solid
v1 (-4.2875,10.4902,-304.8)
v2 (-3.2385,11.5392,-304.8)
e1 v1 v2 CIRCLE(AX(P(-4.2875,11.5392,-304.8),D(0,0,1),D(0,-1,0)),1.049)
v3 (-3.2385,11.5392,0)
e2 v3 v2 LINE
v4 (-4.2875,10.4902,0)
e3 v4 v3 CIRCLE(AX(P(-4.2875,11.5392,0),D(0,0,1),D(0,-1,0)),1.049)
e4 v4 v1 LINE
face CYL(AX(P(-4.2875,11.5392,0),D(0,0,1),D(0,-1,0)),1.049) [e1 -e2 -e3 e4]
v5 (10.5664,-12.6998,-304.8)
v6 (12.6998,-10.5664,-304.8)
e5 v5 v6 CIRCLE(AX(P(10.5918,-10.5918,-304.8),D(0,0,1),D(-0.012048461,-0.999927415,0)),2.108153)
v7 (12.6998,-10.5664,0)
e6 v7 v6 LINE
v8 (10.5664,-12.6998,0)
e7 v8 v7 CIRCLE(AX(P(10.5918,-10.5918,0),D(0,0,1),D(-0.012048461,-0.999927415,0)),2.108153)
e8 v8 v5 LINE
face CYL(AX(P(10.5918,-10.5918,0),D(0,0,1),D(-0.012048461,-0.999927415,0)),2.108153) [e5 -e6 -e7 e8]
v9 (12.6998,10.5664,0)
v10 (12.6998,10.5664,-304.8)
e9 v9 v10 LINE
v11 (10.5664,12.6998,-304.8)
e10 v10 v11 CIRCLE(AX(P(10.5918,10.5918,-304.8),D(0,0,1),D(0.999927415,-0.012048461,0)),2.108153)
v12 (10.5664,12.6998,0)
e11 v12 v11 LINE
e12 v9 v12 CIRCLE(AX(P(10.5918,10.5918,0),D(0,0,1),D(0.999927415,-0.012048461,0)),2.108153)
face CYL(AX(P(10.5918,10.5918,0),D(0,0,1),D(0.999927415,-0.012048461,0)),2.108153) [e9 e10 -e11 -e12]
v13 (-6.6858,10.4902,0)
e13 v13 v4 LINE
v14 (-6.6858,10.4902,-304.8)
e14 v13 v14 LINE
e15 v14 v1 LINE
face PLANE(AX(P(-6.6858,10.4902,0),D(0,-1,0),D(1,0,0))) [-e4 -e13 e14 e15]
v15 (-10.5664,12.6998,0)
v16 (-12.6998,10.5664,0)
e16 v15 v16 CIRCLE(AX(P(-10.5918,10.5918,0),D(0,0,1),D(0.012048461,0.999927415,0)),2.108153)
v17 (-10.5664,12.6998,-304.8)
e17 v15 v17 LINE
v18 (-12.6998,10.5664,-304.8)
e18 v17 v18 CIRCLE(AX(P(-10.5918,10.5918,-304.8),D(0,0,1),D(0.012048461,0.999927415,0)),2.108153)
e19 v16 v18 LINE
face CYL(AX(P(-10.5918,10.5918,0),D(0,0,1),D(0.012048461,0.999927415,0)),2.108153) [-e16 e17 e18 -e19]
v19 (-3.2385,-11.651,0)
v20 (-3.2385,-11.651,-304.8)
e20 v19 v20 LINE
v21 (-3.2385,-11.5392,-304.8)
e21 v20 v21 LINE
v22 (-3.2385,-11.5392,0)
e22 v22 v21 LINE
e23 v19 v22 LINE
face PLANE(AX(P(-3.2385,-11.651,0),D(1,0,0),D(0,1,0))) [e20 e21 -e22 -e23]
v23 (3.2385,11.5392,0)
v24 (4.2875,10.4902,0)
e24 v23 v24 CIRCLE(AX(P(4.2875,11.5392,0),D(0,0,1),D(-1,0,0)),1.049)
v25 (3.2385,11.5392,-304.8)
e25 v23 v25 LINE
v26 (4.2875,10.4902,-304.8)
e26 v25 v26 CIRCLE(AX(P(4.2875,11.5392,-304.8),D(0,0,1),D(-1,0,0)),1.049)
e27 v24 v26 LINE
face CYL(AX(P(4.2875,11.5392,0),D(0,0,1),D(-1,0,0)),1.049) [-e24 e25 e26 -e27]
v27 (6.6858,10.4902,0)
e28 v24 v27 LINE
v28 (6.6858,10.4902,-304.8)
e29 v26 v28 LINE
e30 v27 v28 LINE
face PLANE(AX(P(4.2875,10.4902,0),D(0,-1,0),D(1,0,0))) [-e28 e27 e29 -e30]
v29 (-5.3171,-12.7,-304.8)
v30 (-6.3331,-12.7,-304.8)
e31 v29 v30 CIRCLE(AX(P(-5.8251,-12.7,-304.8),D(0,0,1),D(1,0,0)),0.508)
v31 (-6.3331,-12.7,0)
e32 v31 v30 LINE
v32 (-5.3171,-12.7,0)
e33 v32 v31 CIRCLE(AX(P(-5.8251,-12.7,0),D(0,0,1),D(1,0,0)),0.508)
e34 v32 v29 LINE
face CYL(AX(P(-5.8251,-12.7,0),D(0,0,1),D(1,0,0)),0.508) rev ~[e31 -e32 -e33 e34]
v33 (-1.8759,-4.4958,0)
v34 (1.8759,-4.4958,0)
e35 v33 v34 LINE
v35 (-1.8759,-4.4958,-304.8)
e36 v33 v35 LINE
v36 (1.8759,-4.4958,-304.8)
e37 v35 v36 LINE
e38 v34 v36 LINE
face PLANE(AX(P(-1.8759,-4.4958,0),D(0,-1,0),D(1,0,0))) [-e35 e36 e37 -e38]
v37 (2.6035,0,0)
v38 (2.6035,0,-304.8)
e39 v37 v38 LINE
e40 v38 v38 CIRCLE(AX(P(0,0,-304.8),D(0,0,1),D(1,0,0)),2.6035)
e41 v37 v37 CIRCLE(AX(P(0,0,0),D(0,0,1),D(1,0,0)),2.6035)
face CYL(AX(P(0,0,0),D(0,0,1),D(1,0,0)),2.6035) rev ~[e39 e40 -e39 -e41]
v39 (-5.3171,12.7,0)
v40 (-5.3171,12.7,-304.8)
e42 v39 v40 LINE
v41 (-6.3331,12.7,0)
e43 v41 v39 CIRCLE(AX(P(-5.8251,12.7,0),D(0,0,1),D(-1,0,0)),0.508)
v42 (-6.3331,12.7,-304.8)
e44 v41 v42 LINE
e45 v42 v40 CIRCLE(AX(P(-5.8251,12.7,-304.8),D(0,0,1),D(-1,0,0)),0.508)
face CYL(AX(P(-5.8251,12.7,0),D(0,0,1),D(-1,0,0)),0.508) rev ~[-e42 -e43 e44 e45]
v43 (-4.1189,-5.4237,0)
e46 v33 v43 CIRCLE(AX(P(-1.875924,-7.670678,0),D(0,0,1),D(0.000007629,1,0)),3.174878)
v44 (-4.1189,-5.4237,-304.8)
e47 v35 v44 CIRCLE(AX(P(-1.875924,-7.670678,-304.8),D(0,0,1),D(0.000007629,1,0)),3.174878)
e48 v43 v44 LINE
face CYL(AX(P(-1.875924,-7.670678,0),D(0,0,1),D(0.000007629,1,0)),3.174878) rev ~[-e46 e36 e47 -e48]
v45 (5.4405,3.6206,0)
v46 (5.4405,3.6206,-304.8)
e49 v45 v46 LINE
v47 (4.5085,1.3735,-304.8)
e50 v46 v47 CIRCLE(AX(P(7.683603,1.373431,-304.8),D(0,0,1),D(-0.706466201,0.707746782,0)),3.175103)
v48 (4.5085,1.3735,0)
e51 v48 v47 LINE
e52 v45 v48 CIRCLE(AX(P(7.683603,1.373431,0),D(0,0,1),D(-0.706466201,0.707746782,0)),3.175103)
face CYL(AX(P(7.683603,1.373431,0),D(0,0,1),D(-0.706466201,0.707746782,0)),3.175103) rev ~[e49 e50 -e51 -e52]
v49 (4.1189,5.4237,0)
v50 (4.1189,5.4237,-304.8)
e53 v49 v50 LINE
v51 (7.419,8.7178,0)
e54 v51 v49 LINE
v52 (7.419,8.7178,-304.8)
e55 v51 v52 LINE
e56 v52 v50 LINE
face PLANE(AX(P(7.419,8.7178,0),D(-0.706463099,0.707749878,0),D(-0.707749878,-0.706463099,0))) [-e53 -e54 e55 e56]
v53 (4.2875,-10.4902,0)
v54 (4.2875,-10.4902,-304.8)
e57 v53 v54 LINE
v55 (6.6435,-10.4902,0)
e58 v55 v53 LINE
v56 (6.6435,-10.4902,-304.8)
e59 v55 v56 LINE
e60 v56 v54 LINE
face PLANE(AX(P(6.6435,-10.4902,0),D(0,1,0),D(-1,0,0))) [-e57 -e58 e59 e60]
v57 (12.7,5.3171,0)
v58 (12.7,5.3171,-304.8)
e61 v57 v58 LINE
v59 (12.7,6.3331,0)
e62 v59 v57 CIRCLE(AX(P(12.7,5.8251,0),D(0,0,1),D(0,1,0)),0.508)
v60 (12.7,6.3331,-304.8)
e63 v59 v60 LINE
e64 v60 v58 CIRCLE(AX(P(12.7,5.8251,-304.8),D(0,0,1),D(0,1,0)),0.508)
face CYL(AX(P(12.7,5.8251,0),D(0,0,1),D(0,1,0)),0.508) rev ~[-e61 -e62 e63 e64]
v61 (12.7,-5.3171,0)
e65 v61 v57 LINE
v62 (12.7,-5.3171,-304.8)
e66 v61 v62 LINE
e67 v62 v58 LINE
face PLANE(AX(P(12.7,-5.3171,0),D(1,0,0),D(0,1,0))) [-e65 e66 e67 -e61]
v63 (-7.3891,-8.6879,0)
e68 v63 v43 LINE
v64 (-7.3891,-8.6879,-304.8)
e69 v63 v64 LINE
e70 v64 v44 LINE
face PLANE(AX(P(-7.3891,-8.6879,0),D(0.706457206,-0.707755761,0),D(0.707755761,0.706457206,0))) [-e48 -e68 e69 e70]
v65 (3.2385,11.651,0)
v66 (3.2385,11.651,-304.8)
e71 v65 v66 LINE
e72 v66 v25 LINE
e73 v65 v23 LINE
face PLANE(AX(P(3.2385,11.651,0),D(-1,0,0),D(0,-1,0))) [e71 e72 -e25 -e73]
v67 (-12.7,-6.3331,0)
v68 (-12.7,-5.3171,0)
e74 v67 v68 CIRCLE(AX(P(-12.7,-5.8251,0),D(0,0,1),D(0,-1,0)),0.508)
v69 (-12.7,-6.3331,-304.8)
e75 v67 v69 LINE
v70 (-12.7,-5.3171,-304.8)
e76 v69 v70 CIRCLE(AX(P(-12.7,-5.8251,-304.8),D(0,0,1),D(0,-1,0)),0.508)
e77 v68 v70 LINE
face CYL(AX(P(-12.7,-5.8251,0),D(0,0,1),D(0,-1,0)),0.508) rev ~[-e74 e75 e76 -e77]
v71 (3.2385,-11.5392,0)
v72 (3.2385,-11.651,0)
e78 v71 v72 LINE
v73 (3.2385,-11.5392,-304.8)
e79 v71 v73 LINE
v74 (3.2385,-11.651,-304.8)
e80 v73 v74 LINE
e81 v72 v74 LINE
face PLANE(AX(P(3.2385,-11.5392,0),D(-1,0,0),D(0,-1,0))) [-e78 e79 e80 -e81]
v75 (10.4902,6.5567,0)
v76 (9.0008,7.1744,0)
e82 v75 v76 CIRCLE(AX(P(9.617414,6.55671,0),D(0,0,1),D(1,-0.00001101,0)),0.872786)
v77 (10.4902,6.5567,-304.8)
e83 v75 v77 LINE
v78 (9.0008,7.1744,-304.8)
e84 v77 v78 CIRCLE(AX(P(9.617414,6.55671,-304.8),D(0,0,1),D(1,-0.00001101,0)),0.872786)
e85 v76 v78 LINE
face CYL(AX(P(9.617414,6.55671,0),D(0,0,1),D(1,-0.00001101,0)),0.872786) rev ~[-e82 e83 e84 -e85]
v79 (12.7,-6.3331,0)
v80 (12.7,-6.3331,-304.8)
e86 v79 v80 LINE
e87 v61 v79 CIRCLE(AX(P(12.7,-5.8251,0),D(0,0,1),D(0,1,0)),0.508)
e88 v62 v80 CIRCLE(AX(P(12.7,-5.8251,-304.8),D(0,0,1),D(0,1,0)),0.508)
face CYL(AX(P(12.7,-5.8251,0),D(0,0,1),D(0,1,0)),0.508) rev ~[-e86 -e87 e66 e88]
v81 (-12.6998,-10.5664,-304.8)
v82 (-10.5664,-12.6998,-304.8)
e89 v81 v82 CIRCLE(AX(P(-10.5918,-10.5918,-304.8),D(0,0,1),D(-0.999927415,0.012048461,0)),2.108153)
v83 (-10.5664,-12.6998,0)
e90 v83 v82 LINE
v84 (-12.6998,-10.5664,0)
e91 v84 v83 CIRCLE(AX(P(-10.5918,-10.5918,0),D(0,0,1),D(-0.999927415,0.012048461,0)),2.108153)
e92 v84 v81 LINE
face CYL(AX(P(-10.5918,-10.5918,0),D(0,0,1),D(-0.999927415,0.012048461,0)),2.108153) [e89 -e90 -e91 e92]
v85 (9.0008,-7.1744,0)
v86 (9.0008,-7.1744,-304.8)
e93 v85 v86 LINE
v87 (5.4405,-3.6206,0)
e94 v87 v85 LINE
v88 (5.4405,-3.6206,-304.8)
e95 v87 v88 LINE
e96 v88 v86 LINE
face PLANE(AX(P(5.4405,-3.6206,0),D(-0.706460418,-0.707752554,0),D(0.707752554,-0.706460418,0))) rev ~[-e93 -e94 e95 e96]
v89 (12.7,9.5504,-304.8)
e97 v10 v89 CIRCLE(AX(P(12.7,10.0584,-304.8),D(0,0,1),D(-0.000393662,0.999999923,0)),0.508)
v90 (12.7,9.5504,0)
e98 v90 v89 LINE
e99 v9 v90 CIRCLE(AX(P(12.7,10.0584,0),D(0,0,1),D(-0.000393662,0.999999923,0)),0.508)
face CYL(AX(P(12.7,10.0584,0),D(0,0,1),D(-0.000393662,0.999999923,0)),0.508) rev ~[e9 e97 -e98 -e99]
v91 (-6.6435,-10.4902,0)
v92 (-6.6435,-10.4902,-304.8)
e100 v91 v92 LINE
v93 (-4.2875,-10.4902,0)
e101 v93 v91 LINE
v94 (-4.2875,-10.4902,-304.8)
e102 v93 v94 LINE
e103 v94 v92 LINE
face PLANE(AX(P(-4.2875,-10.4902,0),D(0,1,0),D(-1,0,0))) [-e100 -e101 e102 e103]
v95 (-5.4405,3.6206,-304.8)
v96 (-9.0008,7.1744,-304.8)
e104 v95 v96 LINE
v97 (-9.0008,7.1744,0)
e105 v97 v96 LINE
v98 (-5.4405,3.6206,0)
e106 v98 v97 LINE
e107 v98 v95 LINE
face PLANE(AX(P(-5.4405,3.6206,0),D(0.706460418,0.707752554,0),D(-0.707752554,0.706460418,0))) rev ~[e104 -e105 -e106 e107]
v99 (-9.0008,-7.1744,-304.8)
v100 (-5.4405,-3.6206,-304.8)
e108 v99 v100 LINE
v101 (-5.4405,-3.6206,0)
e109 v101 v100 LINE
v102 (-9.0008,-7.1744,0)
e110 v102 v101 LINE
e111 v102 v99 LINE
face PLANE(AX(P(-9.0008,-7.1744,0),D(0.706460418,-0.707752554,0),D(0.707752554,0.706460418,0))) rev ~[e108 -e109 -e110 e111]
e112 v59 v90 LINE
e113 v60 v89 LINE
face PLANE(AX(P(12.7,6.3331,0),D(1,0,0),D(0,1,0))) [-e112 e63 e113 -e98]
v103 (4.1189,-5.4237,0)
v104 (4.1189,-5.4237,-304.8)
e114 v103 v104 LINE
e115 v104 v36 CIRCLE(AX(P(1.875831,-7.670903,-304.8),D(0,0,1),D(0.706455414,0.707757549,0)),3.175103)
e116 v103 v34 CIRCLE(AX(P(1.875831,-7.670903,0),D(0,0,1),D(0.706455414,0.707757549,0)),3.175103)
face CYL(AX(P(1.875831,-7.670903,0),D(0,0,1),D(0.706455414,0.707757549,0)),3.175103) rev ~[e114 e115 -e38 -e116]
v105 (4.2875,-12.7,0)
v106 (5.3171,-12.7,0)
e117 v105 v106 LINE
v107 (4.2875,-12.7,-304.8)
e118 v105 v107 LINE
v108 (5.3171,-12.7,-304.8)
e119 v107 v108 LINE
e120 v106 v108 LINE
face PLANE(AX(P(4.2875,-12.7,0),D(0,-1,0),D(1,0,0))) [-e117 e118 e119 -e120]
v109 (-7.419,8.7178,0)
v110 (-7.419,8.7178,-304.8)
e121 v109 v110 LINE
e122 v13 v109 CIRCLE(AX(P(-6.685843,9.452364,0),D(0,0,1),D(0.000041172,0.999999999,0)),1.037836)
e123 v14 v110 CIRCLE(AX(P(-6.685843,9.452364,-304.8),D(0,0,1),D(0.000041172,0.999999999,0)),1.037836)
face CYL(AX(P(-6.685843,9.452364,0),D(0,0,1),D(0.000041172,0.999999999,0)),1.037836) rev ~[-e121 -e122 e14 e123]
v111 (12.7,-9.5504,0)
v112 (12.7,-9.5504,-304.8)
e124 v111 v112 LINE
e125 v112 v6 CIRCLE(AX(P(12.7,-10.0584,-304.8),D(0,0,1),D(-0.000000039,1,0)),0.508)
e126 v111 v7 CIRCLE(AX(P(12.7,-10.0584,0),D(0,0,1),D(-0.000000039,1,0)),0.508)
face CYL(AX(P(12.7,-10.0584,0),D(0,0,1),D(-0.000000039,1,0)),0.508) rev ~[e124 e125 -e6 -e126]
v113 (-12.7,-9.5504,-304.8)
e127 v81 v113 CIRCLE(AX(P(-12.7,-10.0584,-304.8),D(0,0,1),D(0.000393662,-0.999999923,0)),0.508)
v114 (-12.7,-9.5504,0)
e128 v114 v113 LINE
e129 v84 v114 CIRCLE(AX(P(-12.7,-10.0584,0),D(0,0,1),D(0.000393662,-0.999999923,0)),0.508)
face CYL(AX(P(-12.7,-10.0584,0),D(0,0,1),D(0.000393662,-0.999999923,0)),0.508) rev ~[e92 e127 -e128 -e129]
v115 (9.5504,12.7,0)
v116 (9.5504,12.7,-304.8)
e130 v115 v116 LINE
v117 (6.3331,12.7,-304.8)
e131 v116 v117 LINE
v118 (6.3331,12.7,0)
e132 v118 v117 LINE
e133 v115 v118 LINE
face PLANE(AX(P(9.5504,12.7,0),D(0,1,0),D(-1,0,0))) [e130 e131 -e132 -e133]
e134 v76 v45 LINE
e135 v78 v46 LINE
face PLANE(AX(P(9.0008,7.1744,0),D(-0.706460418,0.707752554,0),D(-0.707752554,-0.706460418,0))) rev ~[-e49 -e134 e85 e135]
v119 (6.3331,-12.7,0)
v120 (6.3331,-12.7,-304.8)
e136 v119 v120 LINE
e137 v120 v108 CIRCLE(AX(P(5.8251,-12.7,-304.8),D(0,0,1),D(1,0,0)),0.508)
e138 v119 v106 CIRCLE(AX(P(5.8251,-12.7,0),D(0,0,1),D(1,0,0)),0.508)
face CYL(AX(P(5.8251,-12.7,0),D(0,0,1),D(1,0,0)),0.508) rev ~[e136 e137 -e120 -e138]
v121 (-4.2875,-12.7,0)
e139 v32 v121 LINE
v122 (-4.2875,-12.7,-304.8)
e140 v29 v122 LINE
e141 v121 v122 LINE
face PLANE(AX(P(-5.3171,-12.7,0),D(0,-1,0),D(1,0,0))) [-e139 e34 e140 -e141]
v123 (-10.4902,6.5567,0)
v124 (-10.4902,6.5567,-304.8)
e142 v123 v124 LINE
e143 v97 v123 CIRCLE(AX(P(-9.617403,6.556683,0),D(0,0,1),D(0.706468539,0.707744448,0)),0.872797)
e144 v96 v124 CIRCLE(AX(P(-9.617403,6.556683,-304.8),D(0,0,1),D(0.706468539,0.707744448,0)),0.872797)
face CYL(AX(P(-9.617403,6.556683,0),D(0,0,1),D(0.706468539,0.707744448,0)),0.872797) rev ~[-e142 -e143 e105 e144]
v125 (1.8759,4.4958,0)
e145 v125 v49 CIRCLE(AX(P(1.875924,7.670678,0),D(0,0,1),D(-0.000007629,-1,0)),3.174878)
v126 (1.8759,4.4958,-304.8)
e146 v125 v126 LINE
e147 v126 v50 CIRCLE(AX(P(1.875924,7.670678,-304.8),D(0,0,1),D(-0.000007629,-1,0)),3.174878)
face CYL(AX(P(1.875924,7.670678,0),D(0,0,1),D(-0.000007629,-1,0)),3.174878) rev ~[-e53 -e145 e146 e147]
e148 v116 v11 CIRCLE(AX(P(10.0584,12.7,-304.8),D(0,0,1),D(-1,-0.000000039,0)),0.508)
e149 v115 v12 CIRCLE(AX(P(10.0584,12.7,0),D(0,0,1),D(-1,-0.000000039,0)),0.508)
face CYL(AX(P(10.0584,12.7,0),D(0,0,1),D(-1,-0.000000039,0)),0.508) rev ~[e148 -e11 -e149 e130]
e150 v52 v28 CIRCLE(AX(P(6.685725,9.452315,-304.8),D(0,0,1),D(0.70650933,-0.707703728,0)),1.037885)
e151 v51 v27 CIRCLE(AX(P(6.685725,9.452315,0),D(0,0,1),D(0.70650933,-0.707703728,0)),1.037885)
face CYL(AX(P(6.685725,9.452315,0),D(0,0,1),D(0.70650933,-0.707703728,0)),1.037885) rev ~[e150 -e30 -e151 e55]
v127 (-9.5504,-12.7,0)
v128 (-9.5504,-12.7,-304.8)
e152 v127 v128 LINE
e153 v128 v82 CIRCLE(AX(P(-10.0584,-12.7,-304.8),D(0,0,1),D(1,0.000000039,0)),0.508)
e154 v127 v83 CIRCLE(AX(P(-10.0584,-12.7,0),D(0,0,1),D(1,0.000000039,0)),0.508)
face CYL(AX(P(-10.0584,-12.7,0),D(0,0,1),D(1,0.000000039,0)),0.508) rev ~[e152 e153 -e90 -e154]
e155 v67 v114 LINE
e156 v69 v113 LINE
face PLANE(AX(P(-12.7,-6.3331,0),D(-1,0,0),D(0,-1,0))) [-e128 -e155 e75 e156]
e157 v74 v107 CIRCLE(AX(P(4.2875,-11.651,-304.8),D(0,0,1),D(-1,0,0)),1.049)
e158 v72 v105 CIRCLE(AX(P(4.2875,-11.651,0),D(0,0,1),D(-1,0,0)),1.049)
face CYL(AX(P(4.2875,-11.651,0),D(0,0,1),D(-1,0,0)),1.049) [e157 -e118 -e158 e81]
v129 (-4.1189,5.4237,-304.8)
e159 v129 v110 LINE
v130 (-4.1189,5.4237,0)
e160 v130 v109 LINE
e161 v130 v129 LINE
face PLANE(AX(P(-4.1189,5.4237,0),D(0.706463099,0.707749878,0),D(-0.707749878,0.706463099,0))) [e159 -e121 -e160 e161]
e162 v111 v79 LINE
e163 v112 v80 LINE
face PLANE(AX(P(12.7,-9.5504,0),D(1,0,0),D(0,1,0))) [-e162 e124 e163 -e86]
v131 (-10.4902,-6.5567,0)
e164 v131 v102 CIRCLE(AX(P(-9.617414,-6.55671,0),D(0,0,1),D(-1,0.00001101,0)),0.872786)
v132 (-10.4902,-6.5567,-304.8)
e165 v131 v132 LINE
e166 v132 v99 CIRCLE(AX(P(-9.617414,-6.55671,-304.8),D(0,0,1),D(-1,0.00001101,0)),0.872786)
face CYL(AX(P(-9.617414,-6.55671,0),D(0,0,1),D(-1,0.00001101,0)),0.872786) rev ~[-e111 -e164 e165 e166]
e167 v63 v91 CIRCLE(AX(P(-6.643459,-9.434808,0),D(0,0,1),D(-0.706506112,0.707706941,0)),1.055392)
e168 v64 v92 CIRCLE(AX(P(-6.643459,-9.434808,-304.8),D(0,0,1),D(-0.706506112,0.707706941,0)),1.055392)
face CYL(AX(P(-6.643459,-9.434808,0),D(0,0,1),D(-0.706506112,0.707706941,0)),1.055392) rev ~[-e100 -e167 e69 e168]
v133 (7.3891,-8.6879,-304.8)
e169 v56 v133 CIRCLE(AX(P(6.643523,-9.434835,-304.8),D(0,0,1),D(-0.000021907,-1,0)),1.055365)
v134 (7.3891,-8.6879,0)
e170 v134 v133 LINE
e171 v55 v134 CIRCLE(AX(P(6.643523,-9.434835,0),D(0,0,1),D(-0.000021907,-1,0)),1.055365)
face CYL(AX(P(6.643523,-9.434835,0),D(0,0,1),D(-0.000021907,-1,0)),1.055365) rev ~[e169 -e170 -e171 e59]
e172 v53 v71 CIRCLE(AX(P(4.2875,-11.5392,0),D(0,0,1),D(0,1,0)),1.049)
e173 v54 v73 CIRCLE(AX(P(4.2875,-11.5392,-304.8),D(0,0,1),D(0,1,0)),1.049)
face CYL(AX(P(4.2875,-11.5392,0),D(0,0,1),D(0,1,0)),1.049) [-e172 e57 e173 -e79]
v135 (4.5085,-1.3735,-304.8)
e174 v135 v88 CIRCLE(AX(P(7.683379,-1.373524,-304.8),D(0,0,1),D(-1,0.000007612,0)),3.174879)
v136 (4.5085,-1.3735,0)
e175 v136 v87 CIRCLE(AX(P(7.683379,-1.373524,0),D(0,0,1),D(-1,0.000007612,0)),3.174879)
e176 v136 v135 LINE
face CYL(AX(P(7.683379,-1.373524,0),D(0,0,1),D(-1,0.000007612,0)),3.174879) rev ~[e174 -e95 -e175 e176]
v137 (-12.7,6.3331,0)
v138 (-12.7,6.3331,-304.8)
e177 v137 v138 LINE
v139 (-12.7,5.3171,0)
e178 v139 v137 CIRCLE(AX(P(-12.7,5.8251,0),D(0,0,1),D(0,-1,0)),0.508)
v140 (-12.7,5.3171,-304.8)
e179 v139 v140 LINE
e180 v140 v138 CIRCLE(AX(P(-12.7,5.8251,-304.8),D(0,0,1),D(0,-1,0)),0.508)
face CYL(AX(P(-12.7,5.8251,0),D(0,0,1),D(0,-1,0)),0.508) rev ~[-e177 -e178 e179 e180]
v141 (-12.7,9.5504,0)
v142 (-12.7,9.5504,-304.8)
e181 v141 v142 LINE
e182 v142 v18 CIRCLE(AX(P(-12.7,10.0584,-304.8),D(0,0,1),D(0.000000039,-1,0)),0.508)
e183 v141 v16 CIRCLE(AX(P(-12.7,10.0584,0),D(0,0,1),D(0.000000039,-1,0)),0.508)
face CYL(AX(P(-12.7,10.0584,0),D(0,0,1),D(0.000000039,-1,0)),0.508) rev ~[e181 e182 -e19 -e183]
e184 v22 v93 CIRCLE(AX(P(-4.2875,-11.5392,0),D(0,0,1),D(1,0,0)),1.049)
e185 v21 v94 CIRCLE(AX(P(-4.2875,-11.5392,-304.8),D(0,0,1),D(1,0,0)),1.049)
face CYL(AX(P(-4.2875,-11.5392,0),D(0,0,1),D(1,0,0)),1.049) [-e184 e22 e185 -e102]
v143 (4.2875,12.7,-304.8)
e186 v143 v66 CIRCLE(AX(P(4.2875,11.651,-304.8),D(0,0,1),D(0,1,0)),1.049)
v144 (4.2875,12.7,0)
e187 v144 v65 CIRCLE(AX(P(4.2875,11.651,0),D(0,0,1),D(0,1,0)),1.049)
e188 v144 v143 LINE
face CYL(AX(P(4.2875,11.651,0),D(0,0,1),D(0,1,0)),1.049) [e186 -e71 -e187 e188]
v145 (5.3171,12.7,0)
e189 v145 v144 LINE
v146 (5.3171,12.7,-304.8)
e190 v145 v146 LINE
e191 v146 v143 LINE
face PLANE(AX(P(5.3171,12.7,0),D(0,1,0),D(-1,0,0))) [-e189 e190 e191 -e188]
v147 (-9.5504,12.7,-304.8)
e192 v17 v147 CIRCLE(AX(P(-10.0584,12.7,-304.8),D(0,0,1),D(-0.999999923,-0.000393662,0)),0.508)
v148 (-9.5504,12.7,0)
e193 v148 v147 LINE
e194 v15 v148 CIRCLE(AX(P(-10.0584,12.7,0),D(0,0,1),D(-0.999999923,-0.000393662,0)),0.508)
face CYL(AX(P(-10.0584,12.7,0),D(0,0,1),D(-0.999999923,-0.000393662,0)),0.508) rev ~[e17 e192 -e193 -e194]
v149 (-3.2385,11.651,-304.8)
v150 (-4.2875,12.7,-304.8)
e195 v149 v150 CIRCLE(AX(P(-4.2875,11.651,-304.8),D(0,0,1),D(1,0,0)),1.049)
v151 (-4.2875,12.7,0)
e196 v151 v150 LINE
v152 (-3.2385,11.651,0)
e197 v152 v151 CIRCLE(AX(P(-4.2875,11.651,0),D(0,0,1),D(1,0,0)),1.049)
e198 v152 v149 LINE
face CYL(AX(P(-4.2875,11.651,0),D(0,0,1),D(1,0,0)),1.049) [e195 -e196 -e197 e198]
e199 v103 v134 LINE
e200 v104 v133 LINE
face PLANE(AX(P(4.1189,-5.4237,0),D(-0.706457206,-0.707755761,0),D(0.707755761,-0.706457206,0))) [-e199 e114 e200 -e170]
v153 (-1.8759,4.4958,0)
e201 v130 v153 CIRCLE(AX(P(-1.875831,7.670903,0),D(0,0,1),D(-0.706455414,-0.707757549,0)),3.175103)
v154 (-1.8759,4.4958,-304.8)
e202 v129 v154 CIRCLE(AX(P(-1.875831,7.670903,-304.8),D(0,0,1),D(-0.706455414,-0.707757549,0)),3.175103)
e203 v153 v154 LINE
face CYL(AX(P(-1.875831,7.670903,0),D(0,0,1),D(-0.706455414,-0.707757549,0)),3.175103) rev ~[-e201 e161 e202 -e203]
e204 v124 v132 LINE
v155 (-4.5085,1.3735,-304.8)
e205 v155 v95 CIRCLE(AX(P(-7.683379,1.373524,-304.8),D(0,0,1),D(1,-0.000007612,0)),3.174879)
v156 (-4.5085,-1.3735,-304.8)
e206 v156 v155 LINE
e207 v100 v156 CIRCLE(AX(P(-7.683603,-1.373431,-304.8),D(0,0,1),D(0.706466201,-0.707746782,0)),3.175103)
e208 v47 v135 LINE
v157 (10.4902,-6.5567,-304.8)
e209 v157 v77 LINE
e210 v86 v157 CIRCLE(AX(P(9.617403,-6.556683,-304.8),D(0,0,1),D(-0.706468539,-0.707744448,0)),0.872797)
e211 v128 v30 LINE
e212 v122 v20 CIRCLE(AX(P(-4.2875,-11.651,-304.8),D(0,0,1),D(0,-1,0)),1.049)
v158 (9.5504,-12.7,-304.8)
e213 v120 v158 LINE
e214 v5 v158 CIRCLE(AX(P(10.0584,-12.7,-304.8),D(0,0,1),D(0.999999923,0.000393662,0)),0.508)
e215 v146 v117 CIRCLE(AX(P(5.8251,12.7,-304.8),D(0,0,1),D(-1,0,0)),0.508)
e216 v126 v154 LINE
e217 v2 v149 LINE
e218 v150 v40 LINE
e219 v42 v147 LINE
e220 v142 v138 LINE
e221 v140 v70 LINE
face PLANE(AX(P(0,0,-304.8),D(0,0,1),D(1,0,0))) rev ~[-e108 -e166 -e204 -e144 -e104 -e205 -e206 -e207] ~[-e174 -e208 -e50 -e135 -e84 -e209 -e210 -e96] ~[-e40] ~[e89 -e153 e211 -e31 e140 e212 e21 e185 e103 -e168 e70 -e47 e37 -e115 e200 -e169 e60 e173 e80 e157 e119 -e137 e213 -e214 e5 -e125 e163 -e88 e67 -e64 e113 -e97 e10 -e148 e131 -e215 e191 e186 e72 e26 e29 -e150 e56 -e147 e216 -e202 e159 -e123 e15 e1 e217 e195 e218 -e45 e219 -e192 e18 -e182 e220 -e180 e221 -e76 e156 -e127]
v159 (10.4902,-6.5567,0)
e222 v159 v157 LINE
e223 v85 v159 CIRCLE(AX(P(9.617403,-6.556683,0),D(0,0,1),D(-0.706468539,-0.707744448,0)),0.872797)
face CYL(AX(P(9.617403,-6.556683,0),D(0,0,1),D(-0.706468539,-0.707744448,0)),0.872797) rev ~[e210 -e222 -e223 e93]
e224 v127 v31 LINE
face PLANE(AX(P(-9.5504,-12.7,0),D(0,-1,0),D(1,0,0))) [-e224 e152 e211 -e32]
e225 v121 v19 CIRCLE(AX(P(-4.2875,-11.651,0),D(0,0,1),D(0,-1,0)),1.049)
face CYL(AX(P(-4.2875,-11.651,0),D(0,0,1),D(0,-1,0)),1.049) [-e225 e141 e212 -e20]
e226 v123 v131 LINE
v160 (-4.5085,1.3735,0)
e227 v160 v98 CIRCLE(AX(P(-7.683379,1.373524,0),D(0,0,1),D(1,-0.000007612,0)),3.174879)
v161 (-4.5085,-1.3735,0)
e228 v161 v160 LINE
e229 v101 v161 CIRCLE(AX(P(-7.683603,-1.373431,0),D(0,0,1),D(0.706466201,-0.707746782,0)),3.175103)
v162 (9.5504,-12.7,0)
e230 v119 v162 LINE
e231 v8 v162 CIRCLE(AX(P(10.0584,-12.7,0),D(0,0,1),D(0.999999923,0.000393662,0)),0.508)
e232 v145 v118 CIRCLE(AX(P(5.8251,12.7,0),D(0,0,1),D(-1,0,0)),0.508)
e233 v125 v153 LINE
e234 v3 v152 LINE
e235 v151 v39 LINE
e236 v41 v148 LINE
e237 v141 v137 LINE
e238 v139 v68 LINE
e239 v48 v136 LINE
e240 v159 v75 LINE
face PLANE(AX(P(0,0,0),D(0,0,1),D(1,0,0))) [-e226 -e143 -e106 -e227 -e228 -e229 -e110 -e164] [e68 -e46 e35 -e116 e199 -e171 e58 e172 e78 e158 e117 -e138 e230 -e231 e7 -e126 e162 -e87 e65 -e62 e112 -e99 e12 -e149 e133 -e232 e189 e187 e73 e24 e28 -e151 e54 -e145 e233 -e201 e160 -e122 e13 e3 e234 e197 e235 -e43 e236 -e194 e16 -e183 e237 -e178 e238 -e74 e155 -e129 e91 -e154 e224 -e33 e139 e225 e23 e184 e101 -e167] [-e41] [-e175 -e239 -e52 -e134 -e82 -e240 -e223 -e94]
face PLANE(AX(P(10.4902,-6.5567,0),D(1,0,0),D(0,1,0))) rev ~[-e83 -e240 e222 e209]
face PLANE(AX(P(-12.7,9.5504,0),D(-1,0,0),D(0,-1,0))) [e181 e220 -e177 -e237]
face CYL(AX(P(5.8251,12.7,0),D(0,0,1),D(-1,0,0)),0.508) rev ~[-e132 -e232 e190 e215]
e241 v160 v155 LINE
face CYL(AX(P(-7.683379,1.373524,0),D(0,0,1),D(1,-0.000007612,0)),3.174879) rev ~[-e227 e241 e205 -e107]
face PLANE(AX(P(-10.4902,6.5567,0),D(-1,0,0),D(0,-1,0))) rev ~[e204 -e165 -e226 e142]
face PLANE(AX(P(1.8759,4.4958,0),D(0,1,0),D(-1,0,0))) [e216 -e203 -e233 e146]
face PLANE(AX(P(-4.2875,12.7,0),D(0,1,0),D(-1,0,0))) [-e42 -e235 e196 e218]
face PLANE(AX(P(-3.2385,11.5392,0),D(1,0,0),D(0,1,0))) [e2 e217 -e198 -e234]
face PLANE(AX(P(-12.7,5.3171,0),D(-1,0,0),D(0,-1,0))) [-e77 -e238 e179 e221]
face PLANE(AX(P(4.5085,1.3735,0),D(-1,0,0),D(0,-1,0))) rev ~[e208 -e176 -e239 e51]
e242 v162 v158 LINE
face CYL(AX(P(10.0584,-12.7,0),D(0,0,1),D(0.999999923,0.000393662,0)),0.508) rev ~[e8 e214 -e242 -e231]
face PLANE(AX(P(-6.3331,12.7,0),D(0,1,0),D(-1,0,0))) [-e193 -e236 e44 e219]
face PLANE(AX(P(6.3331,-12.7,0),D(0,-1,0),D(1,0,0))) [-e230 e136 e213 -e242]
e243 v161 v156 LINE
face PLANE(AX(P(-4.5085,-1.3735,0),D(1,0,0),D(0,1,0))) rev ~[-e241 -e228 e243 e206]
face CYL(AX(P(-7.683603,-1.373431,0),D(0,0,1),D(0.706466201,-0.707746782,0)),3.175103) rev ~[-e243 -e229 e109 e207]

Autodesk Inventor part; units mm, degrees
ref_plane "YZ Plane" through (0, 0, 0) normal (1, 0, 0) x (0, 1, 0)
ref_plane "XZ Plane" through (0, 0, 0) normal (0, 1, 0) x (-1, 0, 0)
ref_plane "XY Plane" through (0, 0, 0) normal (0, 0, 1) x (1, 0, 0)
sketch "Sketch1" plane through (0, 0, 0) normal (0, 0, 1) x (1, 0, 0)
  arc A0 (5.4405, 3.6206) -> (4.5085, 1.3735) centre (7.6835, 1.3735) ccw
  line L0 (9.0008, 7.1744) -> (5.4405, 3.6206)
  arc A1 (10.4902, 6.5567) -> (9.0008, 7.1744) centre (9.6174, 6.5567) ccw
  line L1 (10.4902, -6.5567) -> (10.4902, 6.5567)
  arc A2 (9.0008, -7.1744) -> (10.4902, -6.5567) centre (9.6174, -6.5567) ccw
  line L2 (5.4405, -3.6206) -> (9.0008, -7.1744)
  arc A3 (4.5085, -1.3735) -> (5.4405, -3.6206) centre (7.6835, -1.3735) ccw
  line L3 (4.5085, 1.3735) -> (4.5085, -1.3735)
  circle A4 centre (0, 0) radius 2.6035
  arc A5 (-9.0008, 7.1744) -> (-10.4902, 6.5567) centre (-9.6174, 6.5567) ccw
  line L4 (-5.4405, 3.6206) -> (-9.0008, 7.1744)
  arc A6 (-4.5085, 1.3735) -> (-5.4405, 3.6206) centre (-7.6835, 1.3735) ccw
  line L5 (-4.5085, -1.3735) -> (-4.5085, 1.3735)
  arc A7 (-5.4405, -3.6206) -> (-4.5085, -1.3735) centre (-7.6835, -1.3735) ccw
  line L6 (-9.0008, -7.1744) -> (-5.4405, -3.6206)
  arc A8 (-10.4902, -6.5567) -> (-9.0008, -7.1744) centre (-9.6174, -6.5567) ccw
  line L7 (-10.4902, 6.5567) -> (-10.4902, -6.5567)
  arc A9 (-7.3891, -8.6879) -> (-6.6435, -10.4902) centre (-6.6435, -9.4348) ccw
  line L8 (-7.3891, -8.6879) -> (-4.1189, -5.4237)
  arc A10 (-1.8759, -4.4958) -> (-4.1189, -5.4237) centre (-1.8759, -7.6708) ccw
  line L9 (-1.8759, -4.4958) -> (1.8759, -4.4958)
  arc A11 (4.1189, -5.4237) -> (1.8759, -4.4958) centre (1.8759, -7.6708) ccw
  line L10 (4.1189, -5.4237) -> (7.3891, -8.6879)
  arc A12 (6.6435, -10.4902) -> (7.3891, -8.6879) centre (6.6435, -9.4348) ccw
  line L11 (6.6435, -10.4902) -> (4.2875, -10.4902)
  arc A13 (4.2875, -10.4902) -> (3.2385, -11.5392) centre (4.2875, -11.5392) ccw
  line L12 (3.2385, -11.5392) -> (3.2385, -11.651)
  arc A14 (3.2385, -11.651) -> (4.2875, -12.7) centre (4.2875, -11.651) ccw
  line L13 (4.2875, -12.7) -> (5.3171, -12.7)
  arc A15 (6.3331, -12.7) -> (5.3171, -12.7) centre (5.8251, -12.7) ccw
  line L14 (6.3331, -12.7) -> (9.5504, -12.7)
  arc A16 (10.5664, -12.6998) -> (9.5504, -12.7) centre (10.0584, -12.7) ccw
  arc A17 (10.5664, -12.6998) -> (12.6998, -10.5664) centre (10.5918, -10.5918) ccw
  arc A18 (12.7, -9.5504) -> (12.6998, -10.5664) centre (12.7, -10.0584) ccw
  line L15 (12.7, -9.5504) -> (12.7, -6.3331)
  arc A19 (12.7, -5.3171) -> (12.7, -6.3331) centre (12.7, -5.8251) ccw
  line L16 (12.7, -5.3171) -> (12.7, 5.3171)
  arc A20 (12.7, 6.3331) -> (12.7, 5.3171) centre (12.7, 5.8251) ccw
  line L17 (12.7, 6.3331) -> (12.7, 9.5504)
  arc A21 (12.6998, 10.5664) -> (12.7, 9.5504) centre (12.7, 10.0584) ccw
  arc A22 (12.6998, 10.5664) -> (10.5664, 12.6998) centre (10.5918, 10.5918) ccw
  arc A23 (9.5504, 12.7) -> (10.5664, 12.6998) centre (10.0584, 12.7) ccw
  line L18 (9.5504, 12.7) -> (6.3331, 12.7)
  arc A24 (5.3171, 12.7) -> (6.3331, 12.7) centre (5.8251, 12.7) ccw
  line L19 (5.3171, 12.7) -> (4.2875, 12.7)
  arc A25 (4.2875, 12.7) -> (3.2385, 11.651) centre (4.2875, 11.651) ccw
  line L20 (3.2385, 11.651) -> (3.2385, 11.5392)
  arc A26 (3.2385, 11.5392) -> (4.2875, 10.4902) centre (4.2875, 11.5392) ccw
  line L21 (4.2875, 10.4902) -> (6.6858, 10.4902)
  arc A27 (7.419, 8.7178) -> (6.6858, 10.4902) centre (6.6858, 9.4523) ccw
  line L22 (7.419, 8.7178) -> (4.1189, 5.4237)
  arc A28 (1.8759, 4.4958) -> (4.1189, 5.4237) centre (1.8759, 7.6708) ccw
  line L23 (1.8759, 4.4958) -> (-1.8759, 4.4958)
  arc A29 (-4.1189, 5.4237) -> (-1.8759, 4.4958) centre (-1.8759, 7.6708) ccw
  line L24 (-4.1189, 5.4237) -> (-7.419, 8.7178)
  arc A30 (-6.6858, 10.4902) -> (-7.419, 8.7178) centre (-6.6858, 9.4523) ccw
  line L25 (-6.6858, 10.4902) -> (-4.2875, 10.4902)
  arc A31 (-4.2875, 10.4902) -> (-3.2385, 11.5392) centre (-4.2875, 11.5392) ccw
  line L26 (-3.2385, 11.5392) -> (-3.2385, 11.651)
  arc A32 (-3.2385, 11.651) -> (-4.2875, 12.7) centre (-4.2875, 11.651) ccw
  line L27 (-4.2875, 12.7) -> (-5.3171, 12.7)
  arc A33 (-6.3331, 12.7) -> (-5.3171, 12.7) centre (-5.8251, 12.7) ccw
  line L28 (-6.3331, 12.7) -> (-9.5504, 12.7)
  arc A34 (-10.5664, 12.6998) -> (-9.5504, 12.7) centre (-10.0584, 12.7) ccw
  arc A35 (-10.5664, 12.6998) -> (-12.6998, 10.5664) centre (-10.5918, 10.5918) ccw
  arc A36 (-12.7, 9.5504) -> (-12.6998, 10.5664) centre (-12.7, 10.0584) ccw
  line L29 (-12.7, 9.5504) -> (-12.7, 6.3331)
  arc A37 (-12.7, 5.3171) -> (-12.7, 6.3331) centre (-12.7, 5.8251) ccw
  line L30 (-12.7, 5.3171) -> (-12.7, -5.3171)
  arc A38 (-12.7, -6.3331) -> (-12.7, -5.3171) centre (-12.7, -5.8251) ccw
  line L31 (-12.7, -6.3331) -> (-12.7, -9.5504)
  arc A39 (-12.6998, -10.5664) -> (-12.7, -9.5504) centre (-12.7, -10.0584) ccw
  arc A40 (-12.6998, -10.5664) -> (-10.5664, -12.6998) centre (-10.5918, -10.5918) ccw
  arc A41 (-9.5504, -12.7) -> (-10.5664, -12.6998) centre (-10.0584, -12.7) ccw
  line L32 (-9.5504, -12.7) -> (-6.3331, -12.7)
  arc A42 (-5.3171, -12.7) -> (-6.3331, -12.7) centre (-5.8251, -12.7) ccw
  line L33 (-5.3171, -12.7) -> (-4.2875, -12.7)
  arc A43 (-4.2875, -12.7) -> (-3.2385, -11.651) centre (-4.2875, -11.651) ccw
  line L34 (-3.2385, -11.651) -> (-3.2385, -11.5392)
  arc A44 (-3.2385, -11.5392) -> (-4.2875, -10.4902) centre (-4.2875, -11.5392) ccw
  line L35 (-4.2875, -10.4902) -> (-6.6435, -10.4902)
extrude "Extrusion1" add sketch "Sketch1" against normal blind 304.8
properties part number "1004"
